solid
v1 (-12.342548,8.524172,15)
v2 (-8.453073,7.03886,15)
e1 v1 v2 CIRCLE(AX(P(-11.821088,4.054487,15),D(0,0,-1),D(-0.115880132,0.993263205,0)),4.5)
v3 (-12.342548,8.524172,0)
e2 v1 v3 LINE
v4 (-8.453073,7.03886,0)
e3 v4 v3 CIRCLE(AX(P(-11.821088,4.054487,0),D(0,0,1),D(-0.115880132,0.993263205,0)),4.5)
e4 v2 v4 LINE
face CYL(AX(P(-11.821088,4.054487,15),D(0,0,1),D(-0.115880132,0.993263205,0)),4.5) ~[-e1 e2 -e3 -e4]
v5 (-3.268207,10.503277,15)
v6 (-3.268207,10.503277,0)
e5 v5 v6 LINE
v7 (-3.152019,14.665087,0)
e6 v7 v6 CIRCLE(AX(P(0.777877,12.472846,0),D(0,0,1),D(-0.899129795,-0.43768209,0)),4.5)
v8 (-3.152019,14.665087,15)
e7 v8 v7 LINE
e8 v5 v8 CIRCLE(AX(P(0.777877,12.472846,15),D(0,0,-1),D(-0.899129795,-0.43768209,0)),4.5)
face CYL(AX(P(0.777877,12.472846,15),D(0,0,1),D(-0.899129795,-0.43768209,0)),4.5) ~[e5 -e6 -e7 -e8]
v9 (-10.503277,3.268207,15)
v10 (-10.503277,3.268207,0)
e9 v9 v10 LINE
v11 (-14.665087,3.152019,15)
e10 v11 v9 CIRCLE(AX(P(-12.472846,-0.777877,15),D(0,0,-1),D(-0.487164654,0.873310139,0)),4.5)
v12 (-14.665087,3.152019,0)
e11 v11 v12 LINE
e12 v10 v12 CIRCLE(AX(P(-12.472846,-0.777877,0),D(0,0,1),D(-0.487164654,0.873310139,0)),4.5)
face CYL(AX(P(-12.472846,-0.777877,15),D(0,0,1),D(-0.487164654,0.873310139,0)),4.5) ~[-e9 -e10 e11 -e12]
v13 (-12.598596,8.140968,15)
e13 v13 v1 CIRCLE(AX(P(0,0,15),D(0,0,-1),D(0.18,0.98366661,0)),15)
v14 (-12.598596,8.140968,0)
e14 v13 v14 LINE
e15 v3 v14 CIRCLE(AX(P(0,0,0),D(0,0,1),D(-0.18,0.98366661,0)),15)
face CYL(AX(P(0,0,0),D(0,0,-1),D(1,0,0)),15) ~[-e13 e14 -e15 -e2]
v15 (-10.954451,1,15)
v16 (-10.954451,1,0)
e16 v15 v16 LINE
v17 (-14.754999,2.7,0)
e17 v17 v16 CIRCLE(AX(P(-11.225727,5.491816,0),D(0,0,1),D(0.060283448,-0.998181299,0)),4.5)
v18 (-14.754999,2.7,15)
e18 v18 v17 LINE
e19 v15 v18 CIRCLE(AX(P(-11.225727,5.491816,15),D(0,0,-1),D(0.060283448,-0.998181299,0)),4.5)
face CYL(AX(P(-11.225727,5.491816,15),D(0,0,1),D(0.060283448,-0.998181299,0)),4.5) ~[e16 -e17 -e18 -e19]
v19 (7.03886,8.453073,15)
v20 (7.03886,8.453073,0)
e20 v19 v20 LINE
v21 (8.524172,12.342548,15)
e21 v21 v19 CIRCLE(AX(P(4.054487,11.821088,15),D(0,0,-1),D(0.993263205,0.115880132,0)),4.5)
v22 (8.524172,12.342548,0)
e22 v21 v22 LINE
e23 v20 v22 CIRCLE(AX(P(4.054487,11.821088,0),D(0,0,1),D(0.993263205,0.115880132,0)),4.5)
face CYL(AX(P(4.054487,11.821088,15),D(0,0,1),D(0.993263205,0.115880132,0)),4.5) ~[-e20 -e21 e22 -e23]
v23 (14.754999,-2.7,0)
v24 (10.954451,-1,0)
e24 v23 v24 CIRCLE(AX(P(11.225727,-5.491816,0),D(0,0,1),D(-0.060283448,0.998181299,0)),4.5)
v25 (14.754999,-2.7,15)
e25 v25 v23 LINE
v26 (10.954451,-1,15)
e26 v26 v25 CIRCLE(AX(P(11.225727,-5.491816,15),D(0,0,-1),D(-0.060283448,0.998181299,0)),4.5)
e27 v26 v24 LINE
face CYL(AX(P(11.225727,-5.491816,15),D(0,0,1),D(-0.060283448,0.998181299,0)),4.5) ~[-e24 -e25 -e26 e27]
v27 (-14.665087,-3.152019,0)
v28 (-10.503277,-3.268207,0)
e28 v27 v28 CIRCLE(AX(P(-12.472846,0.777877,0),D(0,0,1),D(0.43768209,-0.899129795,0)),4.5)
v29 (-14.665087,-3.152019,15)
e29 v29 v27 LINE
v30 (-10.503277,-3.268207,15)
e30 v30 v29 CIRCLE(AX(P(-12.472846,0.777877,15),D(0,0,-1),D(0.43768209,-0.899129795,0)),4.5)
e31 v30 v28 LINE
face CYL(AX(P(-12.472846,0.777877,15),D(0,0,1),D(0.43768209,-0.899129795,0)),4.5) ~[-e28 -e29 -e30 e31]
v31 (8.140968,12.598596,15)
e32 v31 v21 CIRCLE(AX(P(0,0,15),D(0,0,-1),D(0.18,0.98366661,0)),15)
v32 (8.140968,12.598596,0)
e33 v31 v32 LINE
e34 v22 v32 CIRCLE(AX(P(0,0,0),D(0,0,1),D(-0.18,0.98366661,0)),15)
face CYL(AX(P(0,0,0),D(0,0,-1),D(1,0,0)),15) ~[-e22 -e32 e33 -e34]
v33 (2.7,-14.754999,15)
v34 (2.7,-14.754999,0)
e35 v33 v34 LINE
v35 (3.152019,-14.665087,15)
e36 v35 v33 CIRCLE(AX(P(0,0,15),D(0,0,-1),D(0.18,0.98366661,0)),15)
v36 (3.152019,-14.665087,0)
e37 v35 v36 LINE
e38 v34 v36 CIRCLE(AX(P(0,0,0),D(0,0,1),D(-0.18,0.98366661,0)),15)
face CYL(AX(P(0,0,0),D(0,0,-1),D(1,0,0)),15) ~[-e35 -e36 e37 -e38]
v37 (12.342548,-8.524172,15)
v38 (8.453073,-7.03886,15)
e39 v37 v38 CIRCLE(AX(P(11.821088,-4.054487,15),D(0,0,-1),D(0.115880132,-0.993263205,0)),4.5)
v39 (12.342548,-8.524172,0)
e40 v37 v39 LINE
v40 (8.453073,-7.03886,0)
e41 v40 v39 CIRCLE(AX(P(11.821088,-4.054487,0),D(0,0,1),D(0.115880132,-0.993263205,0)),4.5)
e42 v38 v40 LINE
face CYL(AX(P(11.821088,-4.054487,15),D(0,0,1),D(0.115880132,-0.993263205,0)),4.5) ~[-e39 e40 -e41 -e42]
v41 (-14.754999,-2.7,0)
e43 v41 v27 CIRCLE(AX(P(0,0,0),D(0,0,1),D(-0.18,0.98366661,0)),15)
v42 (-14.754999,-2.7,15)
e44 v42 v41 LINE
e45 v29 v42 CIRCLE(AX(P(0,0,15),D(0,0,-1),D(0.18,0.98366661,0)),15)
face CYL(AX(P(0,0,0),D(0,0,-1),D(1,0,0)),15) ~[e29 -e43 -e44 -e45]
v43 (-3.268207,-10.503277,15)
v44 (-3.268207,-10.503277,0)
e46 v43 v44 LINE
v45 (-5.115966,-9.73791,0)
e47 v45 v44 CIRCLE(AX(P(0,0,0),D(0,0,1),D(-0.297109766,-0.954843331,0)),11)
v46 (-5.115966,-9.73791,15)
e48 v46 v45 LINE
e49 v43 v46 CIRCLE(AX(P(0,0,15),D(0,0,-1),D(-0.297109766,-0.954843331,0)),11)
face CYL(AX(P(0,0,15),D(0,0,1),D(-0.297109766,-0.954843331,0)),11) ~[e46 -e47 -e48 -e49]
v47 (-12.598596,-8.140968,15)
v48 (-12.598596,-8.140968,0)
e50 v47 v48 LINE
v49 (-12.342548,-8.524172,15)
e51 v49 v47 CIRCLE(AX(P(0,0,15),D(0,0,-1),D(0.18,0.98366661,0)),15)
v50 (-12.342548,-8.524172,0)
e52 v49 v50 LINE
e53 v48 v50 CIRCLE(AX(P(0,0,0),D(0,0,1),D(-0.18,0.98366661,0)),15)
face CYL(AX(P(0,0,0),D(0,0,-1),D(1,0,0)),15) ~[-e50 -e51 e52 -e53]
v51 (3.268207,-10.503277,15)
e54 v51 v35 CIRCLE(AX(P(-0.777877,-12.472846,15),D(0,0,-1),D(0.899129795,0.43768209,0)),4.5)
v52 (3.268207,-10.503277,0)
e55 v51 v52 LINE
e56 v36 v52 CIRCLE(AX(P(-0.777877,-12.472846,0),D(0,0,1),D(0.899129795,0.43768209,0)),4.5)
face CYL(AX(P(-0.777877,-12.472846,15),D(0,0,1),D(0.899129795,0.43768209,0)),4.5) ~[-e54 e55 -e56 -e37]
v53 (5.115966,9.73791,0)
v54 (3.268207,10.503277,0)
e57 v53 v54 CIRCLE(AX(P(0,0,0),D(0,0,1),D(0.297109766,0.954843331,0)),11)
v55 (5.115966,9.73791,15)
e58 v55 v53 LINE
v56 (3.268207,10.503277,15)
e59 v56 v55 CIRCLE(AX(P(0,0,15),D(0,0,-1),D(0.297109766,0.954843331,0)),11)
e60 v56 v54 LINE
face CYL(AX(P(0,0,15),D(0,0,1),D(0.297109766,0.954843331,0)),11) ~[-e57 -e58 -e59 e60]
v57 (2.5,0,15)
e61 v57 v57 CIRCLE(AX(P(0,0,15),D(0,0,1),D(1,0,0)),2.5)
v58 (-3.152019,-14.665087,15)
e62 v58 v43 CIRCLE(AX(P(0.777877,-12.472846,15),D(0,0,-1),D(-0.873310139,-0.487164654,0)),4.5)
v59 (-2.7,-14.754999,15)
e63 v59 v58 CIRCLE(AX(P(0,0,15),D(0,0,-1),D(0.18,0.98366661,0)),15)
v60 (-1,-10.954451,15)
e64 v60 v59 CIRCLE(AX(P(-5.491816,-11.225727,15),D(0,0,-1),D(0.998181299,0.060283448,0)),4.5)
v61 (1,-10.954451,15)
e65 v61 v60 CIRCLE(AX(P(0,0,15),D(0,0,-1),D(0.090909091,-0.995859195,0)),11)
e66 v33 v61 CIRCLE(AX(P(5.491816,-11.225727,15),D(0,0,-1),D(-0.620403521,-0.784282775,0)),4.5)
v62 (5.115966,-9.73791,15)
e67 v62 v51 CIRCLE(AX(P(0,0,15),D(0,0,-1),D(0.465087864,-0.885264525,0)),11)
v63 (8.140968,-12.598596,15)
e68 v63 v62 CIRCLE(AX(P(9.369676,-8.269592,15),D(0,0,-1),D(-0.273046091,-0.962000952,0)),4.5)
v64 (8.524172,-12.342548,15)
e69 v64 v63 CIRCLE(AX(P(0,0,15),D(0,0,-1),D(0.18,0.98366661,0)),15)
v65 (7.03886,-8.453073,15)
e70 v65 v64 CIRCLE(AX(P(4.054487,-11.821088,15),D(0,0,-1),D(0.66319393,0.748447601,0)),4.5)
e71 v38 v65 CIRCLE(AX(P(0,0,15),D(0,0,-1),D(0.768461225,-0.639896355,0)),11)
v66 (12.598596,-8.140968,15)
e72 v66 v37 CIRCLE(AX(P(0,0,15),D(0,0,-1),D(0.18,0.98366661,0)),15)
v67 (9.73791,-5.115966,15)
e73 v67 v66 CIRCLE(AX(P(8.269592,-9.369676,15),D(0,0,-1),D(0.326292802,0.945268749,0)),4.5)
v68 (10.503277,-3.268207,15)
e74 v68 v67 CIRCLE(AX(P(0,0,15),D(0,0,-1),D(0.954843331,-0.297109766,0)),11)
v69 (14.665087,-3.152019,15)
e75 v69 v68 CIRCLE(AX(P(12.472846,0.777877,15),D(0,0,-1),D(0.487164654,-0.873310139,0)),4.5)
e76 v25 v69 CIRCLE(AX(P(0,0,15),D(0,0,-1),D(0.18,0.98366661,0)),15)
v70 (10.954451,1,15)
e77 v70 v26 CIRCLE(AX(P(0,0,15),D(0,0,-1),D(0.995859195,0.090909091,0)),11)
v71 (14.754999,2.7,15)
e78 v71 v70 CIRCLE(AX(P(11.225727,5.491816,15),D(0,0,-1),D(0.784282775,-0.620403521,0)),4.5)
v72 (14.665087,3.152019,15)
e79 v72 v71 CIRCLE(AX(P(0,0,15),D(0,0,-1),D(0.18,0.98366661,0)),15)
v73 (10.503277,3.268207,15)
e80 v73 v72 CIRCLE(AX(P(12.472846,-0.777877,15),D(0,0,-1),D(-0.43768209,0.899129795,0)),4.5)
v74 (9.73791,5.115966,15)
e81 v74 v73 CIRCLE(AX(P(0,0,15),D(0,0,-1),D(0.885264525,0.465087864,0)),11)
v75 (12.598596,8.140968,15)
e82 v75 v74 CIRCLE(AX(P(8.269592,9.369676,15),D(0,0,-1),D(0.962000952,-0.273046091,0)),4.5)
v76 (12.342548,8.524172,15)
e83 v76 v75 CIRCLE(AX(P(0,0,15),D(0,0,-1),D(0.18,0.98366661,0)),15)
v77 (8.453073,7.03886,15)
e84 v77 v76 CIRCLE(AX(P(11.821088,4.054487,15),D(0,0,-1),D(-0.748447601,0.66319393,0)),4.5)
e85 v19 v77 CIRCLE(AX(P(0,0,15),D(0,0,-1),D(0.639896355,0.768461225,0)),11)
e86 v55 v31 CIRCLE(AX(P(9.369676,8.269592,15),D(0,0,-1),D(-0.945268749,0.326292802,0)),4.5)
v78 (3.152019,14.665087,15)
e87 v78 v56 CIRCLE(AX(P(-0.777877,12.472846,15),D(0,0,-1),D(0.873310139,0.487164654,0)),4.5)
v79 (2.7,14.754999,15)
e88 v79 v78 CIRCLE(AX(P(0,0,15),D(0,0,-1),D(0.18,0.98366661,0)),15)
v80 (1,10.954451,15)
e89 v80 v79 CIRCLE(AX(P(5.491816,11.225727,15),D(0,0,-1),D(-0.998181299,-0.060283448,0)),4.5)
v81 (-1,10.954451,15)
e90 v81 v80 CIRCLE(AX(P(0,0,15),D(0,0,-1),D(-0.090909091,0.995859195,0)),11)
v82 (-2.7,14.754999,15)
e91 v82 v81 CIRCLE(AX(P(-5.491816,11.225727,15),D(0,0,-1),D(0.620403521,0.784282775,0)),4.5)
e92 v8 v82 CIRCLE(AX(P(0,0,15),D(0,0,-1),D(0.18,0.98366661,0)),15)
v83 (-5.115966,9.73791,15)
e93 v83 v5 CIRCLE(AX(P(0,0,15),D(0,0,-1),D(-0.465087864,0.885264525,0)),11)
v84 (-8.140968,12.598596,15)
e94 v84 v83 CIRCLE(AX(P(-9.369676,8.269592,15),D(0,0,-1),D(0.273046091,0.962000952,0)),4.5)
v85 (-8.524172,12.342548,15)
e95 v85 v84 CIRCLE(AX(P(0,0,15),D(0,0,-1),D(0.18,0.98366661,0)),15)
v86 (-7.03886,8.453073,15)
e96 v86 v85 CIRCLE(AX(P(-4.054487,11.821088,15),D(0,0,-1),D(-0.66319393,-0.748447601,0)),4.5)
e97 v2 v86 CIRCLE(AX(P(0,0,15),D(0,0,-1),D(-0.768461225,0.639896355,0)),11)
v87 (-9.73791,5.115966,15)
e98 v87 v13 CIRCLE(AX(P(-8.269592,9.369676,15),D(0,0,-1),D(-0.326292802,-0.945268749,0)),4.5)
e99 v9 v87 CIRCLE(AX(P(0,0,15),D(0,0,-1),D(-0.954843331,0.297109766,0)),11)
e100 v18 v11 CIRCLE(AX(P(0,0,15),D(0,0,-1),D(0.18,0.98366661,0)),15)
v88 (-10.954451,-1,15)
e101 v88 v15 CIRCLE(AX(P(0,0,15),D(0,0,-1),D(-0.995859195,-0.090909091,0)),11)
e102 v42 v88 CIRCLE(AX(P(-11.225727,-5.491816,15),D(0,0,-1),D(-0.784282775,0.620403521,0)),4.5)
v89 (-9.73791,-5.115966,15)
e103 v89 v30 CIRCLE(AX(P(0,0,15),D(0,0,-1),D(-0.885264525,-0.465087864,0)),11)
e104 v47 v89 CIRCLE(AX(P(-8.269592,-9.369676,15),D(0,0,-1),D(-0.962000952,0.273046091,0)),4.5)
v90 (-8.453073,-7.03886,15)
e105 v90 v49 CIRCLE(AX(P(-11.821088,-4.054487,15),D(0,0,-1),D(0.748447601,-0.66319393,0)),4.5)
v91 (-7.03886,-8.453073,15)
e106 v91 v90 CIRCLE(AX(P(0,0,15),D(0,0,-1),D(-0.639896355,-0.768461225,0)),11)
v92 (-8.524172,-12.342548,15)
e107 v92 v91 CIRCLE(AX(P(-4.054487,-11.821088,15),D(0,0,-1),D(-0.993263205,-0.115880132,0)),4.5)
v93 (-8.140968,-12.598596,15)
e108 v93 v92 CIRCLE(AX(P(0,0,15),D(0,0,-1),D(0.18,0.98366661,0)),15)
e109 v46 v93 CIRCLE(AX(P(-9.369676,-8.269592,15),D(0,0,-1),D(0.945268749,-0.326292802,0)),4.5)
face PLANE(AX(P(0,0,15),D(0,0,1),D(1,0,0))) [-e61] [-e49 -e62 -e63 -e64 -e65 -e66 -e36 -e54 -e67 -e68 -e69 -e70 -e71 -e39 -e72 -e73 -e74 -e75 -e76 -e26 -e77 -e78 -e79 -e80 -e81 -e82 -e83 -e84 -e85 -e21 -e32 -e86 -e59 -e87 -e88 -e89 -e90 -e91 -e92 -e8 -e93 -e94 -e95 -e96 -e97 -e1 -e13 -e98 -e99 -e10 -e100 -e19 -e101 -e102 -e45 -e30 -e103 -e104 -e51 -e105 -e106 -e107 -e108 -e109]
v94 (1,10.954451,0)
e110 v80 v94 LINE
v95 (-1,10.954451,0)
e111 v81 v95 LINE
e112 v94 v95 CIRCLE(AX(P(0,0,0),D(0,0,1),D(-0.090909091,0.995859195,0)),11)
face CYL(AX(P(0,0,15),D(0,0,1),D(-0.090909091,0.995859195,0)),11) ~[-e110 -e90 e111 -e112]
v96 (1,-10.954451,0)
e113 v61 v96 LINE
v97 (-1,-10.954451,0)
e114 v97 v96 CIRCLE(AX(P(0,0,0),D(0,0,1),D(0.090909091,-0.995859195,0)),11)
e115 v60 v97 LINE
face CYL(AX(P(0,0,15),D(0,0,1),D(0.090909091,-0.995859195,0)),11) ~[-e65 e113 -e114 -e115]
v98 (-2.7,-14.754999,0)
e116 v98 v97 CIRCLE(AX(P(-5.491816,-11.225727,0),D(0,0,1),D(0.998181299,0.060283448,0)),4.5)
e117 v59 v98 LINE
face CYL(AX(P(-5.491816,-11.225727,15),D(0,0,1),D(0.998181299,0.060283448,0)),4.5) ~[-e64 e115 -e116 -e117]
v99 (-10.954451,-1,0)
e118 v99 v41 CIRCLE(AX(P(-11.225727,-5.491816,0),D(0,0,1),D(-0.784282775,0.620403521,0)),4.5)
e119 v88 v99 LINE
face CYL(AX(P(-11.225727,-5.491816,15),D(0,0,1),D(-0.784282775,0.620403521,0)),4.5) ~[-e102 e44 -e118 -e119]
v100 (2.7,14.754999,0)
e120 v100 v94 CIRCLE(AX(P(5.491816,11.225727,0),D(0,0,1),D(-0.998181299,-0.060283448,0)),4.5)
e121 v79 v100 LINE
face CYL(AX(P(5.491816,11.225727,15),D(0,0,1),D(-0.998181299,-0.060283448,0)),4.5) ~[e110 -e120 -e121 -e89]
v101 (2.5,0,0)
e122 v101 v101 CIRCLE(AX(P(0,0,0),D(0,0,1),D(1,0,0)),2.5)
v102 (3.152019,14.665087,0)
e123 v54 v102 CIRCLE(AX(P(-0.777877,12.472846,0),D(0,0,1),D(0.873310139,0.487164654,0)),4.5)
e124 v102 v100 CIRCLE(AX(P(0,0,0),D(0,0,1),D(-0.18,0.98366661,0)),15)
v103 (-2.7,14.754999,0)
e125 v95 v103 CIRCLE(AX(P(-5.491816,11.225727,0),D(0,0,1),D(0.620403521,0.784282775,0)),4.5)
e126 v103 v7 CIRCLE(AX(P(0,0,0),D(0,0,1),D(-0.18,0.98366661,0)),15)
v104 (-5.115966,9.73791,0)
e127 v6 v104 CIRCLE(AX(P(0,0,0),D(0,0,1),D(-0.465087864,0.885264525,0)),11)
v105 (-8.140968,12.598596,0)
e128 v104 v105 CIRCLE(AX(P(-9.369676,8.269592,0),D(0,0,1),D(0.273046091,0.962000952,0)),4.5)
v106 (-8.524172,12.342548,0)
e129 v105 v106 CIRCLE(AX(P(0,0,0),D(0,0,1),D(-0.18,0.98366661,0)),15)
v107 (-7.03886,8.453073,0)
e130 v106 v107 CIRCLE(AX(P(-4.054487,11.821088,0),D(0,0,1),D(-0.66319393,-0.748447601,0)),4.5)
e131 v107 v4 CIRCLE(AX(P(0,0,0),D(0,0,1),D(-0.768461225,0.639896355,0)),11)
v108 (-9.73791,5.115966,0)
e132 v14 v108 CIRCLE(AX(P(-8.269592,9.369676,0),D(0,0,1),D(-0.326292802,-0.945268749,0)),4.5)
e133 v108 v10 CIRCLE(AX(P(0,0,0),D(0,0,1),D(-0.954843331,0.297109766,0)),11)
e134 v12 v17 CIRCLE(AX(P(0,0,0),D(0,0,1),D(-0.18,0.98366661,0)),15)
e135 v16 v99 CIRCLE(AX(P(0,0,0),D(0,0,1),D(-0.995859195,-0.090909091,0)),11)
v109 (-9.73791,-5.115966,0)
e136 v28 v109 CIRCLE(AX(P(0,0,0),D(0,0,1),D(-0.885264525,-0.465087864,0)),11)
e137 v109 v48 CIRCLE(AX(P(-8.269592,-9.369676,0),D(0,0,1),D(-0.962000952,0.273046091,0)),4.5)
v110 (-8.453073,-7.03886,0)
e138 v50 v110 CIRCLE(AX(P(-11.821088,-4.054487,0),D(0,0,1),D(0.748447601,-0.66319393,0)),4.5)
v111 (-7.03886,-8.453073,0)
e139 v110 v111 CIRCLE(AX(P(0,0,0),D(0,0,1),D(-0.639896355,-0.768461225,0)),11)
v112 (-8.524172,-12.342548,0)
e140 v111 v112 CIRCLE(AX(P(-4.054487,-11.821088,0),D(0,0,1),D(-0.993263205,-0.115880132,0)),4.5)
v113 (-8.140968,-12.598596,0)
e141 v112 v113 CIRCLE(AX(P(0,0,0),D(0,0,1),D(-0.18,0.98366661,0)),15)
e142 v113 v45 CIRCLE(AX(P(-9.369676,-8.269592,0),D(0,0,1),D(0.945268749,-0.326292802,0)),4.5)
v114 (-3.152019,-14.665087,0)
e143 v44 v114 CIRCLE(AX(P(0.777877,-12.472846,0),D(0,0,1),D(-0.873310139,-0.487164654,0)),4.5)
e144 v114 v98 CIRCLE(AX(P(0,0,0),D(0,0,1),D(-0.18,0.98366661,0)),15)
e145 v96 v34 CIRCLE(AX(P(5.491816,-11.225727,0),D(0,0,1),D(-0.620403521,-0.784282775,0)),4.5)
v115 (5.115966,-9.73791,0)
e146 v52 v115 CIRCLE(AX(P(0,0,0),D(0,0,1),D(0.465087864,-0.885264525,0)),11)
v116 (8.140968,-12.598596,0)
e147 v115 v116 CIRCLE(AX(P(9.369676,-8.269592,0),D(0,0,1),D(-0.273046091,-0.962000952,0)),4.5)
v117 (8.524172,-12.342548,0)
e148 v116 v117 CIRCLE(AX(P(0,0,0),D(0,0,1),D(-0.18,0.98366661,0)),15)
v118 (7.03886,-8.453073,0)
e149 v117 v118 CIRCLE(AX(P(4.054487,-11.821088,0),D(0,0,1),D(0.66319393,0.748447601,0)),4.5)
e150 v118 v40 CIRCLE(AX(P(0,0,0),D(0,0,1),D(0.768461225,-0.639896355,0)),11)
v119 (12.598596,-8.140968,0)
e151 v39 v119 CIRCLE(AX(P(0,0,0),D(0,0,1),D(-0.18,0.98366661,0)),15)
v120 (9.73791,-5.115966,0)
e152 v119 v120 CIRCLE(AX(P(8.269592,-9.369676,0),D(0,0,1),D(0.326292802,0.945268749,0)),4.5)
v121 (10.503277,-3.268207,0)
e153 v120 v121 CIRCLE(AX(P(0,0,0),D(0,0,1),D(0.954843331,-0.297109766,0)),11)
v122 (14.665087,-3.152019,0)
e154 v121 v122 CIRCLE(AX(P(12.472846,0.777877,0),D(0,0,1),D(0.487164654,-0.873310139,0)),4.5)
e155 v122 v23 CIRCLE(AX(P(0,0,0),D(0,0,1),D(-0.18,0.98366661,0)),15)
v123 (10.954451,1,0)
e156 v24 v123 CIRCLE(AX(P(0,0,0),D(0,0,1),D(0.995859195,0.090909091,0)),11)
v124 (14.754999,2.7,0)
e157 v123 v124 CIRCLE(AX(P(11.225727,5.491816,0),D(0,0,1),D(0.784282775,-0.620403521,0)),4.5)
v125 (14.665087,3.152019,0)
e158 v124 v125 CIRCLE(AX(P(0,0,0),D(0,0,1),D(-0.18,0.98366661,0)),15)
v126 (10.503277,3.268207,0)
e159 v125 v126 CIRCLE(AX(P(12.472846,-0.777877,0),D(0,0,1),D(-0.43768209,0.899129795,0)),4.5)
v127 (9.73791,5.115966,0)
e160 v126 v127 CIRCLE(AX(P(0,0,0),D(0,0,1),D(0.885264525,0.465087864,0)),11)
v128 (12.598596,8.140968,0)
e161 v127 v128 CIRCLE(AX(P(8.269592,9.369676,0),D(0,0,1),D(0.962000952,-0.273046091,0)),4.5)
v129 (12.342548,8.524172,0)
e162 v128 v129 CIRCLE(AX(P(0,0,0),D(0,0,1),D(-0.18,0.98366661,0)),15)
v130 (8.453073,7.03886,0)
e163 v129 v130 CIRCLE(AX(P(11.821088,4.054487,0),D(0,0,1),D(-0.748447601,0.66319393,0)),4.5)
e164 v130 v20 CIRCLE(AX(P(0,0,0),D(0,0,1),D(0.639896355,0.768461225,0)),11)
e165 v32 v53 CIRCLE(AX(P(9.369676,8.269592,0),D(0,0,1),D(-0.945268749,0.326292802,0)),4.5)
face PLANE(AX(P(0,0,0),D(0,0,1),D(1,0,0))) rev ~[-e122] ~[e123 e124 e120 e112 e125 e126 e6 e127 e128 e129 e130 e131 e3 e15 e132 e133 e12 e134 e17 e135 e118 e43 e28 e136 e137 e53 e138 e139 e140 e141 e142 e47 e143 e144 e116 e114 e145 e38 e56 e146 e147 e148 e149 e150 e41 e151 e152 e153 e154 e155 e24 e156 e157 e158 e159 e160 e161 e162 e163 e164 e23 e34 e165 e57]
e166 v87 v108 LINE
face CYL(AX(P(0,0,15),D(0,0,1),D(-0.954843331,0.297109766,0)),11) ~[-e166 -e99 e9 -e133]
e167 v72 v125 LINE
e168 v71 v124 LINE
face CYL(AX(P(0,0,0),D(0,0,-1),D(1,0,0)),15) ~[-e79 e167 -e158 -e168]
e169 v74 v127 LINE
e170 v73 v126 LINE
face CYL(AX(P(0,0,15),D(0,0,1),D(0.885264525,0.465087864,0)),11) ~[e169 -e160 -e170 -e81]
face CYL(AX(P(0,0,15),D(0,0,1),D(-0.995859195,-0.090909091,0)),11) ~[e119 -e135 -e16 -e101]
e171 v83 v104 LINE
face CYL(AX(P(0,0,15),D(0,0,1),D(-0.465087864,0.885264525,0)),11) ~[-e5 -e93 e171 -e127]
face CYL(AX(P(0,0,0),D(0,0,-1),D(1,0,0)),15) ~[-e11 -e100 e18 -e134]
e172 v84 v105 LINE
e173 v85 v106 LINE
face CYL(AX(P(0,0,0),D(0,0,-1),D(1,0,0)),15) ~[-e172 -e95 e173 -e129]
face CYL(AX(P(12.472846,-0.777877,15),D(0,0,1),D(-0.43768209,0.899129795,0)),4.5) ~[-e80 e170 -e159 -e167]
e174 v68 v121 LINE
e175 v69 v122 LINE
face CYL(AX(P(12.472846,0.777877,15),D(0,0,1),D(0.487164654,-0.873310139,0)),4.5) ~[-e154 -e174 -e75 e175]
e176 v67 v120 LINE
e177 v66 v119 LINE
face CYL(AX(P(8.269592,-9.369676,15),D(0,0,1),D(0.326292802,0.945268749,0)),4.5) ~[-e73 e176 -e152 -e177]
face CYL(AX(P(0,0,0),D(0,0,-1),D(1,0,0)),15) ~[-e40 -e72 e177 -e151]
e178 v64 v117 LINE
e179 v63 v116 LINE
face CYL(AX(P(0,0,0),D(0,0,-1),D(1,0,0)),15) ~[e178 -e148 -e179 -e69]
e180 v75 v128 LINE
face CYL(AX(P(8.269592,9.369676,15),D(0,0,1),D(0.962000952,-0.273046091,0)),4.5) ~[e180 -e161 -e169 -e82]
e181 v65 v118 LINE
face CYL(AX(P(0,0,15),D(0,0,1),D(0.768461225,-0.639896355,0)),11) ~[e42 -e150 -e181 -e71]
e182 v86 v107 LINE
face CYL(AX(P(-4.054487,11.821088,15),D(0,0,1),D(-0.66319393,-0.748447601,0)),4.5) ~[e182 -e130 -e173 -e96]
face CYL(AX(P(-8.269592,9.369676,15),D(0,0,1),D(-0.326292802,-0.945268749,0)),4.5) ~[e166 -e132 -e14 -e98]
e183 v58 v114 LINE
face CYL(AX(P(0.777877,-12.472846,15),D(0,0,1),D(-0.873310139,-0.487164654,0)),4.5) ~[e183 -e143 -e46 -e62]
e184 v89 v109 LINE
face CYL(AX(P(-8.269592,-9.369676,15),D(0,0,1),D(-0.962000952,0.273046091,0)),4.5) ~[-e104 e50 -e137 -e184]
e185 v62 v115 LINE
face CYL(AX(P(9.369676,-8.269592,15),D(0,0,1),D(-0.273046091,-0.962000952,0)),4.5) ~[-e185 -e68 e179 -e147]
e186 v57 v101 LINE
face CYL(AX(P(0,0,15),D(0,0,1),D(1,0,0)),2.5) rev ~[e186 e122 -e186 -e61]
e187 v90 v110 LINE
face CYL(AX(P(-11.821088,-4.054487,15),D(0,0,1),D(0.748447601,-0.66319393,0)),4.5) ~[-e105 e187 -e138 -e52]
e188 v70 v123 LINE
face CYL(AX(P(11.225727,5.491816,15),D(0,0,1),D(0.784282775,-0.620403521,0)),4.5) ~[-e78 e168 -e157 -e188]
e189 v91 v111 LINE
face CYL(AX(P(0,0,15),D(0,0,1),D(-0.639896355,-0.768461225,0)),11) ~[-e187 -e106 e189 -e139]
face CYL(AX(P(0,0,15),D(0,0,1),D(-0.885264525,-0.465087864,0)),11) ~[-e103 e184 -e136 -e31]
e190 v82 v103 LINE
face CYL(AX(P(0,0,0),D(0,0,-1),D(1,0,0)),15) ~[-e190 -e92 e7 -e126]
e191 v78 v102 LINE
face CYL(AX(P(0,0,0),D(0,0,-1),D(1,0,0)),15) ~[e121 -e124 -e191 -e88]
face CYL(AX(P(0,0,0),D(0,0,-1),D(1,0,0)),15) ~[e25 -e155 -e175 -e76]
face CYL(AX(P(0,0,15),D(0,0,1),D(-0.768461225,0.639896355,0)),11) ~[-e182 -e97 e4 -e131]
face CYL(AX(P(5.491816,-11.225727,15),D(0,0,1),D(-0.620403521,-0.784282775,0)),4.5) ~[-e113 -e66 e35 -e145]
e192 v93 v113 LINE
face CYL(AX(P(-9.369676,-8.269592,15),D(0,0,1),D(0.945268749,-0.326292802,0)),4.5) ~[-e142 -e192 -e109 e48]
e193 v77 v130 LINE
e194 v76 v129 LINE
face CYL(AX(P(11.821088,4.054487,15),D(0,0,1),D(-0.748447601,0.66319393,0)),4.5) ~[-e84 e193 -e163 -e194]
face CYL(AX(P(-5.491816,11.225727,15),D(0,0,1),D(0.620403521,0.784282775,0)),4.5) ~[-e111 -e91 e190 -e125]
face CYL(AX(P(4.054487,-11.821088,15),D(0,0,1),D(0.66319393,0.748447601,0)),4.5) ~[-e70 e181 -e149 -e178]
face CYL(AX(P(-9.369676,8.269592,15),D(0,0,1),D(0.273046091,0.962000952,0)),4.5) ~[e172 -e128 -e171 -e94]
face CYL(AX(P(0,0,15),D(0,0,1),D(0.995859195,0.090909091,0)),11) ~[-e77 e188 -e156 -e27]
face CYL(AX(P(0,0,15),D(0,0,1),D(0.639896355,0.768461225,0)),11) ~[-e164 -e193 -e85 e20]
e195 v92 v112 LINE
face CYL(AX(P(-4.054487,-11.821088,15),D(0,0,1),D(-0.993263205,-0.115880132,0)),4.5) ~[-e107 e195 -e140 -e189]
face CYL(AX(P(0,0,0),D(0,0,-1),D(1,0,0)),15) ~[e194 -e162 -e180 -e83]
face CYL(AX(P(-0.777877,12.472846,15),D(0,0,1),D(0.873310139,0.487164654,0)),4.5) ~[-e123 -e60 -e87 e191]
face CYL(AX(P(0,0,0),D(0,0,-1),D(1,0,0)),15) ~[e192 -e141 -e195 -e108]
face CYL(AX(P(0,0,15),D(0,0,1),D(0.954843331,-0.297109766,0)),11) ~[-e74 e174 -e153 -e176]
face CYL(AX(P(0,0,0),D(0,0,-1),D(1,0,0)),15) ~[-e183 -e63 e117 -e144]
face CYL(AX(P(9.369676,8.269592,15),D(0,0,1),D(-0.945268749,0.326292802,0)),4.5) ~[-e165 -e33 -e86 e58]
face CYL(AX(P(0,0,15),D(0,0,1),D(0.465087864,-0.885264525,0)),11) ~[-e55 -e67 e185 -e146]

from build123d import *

# Parameters (mm, degrees)
SKETCH1_R           = 15
BOSS_EXTRUDE1_DEPTH = 15
CUT_EXTRUDE1_DEPTH  = 16
CIRPATTERN1_COUNT   = 16
SKETCH3_R           = 2.5
CUT_EXTRUDE2_DEPTH  = 16


with BuildPart() as part:
    # Sketch1 → Boss-Extrude1 (new body)
    with BuildSketch(Plane.XY):
        Circle(SKETCH1_R)
    extrude(amount=BOSS_EXTRUDE1_DEPTH)

    # Sketch2 → Cut-Extrude1 (cut, through all)
    with BuildSketch(Plane.XY.offset(15)):
        with BuildLine():
            ThreePointArc((-1, 10.95445115), (0, 11), (1, 10.95445115))
            ThreePointArc((1, 10.95445115), (1.384034944, 13.063153145), (2.7, 14.754999153))
            ThreePointArc((2.7, 14.754999153), (0, 15), (-2.7, 14.754999153))
            ThreePointArc((-2.7, 14.754999153), (-1.384034944, 13.063153145), (-1, 10.95445115))
        make_face()
    cut_extrude1 = extrude(amount=-CUT_EXTRUDE1_DEPTH, mode=Mode.SUBTRACT)

    # CirPattern1: Cut-Extrude1 ×16 about axis
    cirpattern1_axis = Axis((0, 0, 0), (0, 0, 1))
    for i in range(1, CIRPATTERN1_COUNT):
        add(cut_extrude1.rotate(cirpattern1_axis, i * 360 / CIRPATTERN1_COUNT), mode=Mode.SUBTRACT)

    # Sketch3 → Cut-Extrude2 (cut, through all)
    with BuildSketch(Plane.XY.offset(15)):
        Circle(SKETCH3_R)
    extrude(amount=-CUT_EXTRUDE2_DEPTH, mode=Mode.SUBTRACT)


solid = part.part
